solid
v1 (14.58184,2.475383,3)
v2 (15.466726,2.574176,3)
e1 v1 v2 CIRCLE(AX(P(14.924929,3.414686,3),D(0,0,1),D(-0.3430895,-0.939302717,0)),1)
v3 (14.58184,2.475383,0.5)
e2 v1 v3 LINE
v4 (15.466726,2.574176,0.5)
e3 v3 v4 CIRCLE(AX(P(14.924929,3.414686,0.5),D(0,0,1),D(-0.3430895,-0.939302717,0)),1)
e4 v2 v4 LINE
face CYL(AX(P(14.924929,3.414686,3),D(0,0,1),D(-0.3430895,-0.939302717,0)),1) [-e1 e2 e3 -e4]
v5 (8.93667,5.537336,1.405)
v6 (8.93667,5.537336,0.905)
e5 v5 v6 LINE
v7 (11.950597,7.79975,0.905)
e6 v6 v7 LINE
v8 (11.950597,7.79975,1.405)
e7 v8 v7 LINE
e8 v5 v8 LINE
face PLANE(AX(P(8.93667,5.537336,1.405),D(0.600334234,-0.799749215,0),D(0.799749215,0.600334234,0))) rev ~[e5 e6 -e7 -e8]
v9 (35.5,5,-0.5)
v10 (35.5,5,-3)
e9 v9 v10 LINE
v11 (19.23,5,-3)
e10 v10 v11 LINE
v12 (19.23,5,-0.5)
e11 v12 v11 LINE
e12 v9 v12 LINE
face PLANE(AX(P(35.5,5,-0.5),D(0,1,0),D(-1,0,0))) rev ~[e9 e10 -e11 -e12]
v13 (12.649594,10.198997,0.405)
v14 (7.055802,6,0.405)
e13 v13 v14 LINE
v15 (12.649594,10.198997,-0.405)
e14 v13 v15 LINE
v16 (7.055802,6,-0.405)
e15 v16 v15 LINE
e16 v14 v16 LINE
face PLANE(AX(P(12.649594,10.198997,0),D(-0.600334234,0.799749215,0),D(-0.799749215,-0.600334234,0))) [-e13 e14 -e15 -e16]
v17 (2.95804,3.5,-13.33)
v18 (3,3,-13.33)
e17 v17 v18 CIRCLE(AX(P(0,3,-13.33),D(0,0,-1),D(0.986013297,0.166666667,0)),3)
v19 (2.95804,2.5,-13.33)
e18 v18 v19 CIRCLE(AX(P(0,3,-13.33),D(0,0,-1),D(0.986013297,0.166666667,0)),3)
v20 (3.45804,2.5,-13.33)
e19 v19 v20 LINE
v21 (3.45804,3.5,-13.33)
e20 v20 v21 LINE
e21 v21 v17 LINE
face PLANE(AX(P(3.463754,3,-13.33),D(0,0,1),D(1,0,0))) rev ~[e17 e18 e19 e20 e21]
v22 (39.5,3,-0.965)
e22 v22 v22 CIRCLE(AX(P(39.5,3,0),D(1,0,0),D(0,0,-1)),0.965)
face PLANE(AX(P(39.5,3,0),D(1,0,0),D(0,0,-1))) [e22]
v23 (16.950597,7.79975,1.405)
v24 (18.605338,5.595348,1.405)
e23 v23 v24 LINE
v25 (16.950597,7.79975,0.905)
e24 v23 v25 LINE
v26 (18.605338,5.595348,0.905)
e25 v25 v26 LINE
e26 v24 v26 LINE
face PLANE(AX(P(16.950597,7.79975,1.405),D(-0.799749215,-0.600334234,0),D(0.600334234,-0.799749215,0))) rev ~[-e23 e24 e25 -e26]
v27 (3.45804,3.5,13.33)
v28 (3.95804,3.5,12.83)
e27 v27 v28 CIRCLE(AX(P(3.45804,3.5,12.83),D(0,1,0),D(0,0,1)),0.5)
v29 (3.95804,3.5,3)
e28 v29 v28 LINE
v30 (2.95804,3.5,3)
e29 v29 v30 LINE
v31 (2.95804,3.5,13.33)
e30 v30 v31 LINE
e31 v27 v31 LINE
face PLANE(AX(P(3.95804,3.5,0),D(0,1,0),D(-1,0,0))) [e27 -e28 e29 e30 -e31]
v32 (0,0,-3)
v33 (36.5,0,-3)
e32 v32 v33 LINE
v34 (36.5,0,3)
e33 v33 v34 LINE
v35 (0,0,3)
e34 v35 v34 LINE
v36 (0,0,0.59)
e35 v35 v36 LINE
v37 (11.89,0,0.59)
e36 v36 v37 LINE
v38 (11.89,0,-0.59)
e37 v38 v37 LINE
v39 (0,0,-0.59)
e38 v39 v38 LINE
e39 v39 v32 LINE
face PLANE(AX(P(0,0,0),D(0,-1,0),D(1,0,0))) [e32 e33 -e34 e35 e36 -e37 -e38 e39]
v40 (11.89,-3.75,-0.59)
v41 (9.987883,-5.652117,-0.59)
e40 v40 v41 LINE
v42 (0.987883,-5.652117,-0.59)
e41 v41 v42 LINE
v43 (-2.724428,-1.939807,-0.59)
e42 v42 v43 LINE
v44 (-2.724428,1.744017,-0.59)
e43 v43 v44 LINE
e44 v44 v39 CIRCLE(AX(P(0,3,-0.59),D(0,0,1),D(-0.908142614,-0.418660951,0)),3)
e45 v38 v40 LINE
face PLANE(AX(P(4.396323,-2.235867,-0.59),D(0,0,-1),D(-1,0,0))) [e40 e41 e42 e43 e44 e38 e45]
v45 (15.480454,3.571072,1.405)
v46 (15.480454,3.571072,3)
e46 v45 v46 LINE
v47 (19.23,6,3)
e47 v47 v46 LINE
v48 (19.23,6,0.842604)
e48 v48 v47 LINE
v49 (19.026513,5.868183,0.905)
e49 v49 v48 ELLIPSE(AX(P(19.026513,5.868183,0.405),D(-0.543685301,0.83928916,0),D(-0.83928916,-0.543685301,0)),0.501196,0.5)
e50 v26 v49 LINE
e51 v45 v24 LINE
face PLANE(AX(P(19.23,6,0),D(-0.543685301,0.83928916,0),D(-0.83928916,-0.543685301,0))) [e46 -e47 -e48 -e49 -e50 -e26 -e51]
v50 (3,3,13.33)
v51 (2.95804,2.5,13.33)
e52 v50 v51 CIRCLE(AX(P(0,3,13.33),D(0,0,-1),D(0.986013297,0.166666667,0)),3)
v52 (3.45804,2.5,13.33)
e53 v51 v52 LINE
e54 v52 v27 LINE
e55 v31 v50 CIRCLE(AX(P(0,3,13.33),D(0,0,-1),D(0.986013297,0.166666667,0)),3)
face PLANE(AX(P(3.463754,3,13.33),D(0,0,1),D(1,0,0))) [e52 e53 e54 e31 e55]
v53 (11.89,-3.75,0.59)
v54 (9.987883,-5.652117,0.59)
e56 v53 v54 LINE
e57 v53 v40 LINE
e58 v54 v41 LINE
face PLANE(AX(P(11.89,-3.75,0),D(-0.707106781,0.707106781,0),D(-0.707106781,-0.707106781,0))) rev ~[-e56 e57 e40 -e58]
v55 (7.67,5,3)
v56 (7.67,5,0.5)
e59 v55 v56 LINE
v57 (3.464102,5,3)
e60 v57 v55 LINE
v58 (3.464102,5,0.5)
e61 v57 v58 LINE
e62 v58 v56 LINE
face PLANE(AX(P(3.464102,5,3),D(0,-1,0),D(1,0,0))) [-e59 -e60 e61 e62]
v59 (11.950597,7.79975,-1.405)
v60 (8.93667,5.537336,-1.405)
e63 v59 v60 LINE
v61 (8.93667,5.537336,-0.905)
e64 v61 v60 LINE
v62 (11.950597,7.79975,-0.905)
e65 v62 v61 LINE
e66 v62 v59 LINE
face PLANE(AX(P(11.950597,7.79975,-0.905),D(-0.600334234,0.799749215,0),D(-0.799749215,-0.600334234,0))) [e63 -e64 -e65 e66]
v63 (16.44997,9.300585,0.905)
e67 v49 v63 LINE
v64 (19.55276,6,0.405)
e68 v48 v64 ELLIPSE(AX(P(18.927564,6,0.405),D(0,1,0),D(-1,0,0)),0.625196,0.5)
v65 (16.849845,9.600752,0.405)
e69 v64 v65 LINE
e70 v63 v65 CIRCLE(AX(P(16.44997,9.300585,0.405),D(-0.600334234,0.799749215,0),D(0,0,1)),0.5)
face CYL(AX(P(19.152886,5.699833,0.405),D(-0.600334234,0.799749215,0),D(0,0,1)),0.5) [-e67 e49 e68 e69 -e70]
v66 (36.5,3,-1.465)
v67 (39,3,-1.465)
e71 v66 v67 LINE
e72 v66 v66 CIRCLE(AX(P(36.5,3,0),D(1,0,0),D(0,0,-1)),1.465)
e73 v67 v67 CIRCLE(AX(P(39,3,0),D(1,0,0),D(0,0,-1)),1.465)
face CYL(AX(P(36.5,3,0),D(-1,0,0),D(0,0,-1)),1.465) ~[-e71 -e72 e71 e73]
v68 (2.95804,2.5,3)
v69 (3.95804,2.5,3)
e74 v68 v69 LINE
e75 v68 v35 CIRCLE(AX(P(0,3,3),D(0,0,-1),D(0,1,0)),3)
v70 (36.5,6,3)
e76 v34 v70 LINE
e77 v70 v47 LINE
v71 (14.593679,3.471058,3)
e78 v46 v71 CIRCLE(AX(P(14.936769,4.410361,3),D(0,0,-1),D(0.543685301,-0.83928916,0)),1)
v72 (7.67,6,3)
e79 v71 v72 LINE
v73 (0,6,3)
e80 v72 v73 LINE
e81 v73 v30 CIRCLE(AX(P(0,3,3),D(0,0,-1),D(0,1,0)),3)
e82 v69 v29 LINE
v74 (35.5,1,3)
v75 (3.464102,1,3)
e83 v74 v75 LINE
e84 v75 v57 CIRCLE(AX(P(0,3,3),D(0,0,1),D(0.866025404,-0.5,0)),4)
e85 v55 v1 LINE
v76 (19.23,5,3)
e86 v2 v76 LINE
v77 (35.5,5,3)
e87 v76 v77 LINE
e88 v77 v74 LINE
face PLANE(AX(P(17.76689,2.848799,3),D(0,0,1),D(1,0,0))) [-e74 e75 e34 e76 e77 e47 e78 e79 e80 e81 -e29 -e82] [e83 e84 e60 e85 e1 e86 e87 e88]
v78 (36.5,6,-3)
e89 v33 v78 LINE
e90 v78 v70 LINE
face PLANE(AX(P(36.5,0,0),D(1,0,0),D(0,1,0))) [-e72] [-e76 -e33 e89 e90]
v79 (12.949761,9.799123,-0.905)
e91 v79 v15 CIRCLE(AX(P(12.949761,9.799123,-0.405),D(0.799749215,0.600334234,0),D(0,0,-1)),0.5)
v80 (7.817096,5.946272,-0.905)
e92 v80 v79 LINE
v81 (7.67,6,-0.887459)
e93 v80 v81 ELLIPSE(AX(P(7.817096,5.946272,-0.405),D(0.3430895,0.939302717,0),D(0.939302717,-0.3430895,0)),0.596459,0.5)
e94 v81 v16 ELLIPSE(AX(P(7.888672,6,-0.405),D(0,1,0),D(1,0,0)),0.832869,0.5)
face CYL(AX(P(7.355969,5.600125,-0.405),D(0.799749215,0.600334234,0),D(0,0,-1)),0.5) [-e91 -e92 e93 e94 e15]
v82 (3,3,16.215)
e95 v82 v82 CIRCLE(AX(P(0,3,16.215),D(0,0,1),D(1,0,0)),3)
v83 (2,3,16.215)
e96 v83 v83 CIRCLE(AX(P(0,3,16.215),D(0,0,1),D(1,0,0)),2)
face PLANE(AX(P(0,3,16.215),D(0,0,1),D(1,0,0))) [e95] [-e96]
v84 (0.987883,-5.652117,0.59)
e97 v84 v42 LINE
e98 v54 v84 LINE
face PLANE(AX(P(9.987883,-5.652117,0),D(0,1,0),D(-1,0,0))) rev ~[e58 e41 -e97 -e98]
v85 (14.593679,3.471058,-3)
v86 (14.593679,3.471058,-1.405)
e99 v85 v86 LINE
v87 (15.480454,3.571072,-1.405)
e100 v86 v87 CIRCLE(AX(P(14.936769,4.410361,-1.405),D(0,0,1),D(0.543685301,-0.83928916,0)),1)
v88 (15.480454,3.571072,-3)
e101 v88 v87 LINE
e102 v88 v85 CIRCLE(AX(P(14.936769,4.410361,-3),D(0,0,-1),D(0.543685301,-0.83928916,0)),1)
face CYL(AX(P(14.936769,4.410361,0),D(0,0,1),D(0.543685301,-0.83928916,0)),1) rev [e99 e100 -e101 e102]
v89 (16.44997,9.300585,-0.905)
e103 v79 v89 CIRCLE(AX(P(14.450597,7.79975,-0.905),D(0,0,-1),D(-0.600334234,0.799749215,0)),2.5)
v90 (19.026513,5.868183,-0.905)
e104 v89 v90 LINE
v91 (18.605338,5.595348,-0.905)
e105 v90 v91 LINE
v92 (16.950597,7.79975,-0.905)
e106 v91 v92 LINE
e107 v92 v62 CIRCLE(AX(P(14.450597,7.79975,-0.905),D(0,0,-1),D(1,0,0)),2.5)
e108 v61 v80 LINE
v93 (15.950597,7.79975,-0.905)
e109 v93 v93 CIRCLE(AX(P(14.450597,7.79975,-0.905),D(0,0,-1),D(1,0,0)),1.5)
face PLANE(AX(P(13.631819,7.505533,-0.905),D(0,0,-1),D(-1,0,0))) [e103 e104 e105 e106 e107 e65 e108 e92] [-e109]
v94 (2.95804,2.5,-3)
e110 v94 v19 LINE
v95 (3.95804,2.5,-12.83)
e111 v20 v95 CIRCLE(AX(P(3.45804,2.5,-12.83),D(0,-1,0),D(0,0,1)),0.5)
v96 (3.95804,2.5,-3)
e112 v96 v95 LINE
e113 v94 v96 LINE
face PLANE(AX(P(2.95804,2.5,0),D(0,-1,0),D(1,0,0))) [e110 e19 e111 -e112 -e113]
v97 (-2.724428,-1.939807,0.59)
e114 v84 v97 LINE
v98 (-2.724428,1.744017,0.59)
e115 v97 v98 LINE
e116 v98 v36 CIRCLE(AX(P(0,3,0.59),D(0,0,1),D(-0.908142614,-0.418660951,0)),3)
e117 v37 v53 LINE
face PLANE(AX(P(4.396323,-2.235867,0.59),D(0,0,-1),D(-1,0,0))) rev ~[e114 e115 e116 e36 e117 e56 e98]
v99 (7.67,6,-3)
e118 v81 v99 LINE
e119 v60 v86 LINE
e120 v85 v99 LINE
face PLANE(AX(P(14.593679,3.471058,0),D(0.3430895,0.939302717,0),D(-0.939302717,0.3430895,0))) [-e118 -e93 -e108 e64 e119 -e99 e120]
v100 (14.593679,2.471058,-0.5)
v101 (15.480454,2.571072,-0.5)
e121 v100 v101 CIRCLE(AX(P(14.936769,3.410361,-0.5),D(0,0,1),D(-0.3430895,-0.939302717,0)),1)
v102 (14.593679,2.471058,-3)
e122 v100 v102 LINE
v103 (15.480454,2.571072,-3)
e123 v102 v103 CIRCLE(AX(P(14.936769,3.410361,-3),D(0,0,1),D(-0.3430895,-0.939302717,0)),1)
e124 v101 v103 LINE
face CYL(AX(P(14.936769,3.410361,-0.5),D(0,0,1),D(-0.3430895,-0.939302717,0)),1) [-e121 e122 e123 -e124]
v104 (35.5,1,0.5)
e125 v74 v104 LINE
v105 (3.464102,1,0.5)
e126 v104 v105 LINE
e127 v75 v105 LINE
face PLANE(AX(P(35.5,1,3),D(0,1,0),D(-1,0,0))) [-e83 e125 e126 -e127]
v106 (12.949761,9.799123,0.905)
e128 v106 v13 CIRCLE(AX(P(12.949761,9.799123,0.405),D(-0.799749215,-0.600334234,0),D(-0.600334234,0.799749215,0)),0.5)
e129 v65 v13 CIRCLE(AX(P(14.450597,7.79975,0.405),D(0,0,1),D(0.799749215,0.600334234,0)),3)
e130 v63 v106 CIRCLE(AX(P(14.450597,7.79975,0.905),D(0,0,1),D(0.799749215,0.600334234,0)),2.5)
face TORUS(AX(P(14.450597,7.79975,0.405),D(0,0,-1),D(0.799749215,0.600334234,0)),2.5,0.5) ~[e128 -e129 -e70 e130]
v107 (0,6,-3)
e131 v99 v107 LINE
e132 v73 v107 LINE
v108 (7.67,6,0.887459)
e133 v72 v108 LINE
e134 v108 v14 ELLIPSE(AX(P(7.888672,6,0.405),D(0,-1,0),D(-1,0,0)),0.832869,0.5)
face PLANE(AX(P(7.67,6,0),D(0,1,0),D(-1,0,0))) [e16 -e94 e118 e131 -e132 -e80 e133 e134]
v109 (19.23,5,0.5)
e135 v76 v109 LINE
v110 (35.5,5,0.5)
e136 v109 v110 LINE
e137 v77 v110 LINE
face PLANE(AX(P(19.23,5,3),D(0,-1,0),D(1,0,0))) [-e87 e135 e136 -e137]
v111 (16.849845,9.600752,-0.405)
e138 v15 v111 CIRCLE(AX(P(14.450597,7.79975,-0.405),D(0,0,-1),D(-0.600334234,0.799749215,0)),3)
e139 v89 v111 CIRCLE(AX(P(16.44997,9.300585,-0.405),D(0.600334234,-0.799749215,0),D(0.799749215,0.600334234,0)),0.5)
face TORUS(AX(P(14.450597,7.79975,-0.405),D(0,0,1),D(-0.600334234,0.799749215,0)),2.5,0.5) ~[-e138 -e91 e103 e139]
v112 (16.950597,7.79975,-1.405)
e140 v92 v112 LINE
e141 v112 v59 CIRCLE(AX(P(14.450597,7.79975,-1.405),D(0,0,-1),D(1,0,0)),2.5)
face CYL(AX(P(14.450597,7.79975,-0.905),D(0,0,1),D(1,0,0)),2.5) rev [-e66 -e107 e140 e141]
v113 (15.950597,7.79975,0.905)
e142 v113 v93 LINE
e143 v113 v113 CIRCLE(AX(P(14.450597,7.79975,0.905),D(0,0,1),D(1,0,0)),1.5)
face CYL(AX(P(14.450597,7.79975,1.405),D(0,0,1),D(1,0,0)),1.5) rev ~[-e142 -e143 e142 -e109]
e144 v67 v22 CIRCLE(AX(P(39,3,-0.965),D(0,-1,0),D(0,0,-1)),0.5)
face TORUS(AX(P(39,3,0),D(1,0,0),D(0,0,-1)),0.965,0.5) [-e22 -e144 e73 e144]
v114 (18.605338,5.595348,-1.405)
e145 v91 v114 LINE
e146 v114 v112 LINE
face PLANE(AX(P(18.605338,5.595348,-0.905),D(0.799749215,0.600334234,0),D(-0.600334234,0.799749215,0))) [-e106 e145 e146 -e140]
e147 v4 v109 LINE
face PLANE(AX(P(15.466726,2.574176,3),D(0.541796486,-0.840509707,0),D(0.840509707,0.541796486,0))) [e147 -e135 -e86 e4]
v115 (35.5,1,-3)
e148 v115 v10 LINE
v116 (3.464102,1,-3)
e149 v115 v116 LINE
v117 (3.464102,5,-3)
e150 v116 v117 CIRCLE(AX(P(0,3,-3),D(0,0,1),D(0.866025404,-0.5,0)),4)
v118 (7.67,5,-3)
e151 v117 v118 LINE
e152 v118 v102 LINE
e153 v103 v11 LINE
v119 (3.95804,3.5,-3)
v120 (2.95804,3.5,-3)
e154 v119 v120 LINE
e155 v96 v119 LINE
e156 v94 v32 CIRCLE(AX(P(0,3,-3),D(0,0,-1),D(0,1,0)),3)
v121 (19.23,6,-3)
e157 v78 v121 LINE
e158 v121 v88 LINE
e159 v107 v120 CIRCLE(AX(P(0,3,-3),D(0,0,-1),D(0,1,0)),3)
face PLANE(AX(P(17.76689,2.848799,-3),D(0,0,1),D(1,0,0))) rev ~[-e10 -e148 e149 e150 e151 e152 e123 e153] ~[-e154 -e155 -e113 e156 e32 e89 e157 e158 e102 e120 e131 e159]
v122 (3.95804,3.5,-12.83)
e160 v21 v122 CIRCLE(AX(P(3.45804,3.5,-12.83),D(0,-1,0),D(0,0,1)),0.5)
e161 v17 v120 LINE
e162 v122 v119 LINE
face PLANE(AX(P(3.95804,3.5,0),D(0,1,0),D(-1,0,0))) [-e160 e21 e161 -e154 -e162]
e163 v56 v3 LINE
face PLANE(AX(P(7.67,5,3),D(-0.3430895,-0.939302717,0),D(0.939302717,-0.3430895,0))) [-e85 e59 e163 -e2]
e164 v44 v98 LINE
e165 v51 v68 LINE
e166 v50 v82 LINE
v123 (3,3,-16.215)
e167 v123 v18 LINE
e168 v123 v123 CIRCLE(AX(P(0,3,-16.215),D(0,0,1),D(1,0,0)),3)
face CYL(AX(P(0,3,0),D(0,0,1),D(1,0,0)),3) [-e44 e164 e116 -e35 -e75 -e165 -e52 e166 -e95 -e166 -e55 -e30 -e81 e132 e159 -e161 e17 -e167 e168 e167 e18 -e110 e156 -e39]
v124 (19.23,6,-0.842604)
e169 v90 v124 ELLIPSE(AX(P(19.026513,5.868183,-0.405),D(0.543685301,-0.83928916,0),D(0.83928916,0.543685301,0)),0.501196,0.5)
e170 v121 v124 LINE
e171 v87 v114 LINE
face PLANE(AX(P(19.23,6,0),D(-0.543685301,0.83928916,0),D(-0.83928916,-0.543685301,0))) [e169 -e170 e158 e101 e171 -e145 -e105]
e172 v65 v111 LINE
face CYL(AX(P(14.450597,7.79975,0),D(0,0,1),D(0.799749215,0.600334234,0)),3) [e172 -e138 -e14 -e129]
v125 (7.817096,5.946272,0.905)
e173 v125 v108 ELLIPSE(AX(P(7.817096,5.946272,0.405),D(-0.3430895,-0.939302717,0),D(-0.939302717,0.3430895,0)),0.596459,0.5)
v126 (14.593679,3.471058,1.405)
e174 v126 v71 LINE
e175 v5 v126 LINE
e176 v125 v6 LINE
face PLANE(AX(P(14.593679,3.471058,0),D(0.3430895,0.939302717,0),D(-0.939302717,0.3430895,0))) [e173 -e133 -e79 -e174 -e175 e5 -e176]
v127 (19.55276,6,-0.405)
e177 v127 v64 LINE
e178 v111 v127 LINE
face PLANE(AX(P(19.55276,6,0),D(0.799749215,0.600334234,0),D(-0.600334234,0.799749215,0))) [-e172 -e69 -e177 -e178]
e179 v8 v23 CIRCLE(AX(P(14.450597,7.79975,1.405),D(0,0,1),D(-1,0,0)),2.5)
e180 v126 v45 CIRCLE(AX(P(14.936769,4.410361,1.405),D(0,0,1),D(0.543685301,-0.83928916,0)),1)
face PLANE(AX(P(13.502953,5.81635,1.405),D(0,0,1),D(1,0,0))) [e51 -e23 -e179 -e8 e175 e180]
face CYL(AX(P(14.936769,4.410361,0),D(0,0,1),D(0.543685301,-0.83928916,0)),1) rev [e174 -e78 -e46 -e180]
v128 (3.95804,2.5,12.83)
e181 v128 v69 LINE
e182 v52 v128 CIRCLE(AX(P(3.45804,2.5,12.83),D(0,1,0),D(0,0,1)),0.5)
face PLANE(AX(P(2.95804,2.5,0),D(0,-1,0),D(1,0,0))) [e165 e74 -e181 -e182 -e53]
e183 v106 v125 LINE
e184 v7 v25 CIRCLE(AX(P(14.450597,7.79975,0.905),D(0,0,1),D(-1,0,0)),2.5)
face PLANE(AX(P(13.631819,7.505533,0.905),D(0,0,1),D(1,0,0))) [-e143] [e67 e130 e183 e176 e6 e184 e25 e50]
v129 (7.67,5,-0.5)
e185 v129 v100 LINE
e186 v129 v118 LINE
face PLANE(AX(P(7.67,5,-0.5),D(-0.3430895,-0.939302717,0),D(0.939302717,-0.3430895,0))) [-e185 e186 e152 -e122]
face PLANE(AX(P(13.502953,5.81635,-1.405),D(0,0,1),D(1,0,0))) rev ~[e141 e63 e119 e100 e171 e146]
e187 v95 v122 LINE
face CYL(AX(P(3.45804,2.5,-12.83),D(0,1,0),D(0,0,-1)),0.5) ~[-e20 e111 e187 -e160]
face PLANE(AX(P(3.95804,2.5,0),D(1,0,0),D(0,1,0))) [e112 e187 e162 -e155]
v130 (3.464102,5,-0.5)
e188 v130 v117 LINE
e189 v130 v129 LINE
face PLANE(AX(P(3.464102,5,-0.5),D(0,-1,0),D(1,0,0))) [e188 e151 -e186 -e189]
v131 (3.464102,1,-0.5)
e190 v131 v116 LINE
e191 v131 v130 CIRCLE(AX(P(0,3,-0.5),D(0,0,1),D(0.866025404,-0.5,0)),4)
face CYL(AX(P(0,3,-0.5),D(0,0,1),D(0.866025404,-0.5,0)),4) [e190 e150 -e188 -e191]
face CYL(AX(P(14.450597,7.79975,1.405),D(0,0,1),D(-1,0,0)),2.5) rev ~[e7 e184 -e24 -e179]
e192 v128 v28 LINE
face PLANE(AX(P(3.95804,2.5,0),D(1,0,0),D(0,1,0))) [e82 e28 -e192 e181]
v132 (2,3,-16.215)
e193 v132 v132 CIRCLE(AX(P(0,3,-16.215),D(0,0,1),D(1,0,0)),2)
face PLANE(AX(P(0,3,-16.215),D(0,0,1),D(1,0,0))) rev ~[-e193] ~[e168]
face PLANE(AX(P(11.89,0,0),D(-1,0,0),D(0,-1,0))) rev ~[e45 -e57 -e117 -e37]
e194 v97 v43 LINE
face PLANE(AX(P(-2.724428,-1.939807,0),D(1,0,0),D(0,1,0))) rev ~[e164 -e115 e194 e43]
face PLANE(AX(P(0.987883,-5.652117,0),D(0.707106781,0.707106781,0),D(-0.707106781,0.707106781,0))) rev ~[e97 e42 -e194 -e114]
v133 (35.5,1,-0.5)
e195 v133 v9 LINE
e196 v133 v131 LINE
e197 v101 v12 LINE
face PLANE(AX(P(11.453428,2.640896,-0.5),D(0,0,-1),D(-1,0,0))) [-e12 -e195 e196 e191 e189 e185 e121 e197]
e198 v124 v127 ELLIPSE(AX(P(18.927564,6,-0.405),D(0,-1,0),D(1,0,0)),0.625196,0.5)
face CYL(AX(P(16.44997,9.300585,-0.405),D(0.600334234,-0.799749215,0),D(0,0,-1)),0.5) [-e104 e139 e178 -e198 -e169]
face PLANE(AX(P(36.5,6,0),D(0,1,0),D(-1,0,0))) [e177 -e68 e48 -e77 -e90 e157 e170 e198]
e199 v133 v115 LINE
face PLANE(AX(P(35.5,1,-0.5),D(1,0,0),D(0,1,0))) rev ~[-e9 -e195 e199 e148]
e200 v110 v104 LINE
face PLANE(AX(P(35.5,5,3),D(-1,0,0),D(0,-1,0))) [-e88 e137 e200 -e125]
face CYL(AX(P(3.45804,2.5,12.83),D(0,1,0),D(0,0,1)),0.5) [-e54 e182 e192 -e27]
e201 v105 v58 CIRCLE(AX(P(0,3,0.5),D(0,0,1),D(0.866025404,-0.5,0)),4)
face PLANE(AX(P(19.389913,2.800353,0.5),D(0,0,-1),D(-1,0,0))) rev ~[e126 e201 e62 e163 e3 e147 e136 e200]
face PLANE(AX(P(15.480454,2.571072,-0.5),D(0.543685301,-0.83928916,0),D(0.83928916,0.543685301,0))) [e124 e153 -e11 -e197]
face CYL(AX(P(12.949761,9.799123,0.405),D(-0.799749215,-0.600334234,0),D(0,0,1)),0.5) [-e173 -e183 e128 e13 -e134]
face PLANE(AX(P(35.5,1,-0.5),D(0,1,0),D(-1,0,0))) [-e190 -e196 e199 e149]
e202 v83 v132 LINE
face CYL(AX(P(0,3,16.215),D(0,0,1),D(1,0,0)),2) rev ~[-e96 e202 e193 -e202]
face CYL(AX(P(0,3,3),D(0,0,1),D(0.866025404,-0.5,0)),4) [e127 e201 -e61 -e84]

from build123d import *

# Parameters (mm, degrees)
BOSS_EXTRUDE3_DEPTH  = 3
SKETCH6_R            = 1.465
BOSS_EXTRUDE7_DEPTH  = 3
FILLET1_R            = 0.5
SKETCH7_R            = 2.9999999999999982
BOSS_EXTRUDE8_DEPTH  = 16.215
BOSS_EXTRUDE9_DEPTH  = 1.405
SKETCH9_R            = 2
CUT_EXTRUDE1_DEPTH   = 35
SKETCH10_R           = 1.5000000000000009
CUT_EXTRUDE2_DEPTH   = 35
CUT_EXTRUDE3_DEPTH   = 2.5
CUT_EXTRUDE4_START   = -2.5
CUT_EXTRUDE4_DEPTH   = 2.5
BOSS_EXTRUDE10_DEPTH = 0.59
BOSS_EXTRUDE11_DEPTH = 13.33
FILLET2_R            = 0.5
FILLET3_R            = 0.5
SKETCH12_R           = 1.5000000000000009
CUT_EXTRUDE5_DEPTH   = 0.5
FILLET4_R            = 0.5
CUT_EXTRUDE6_START   = -0.5
SKETCH17_R           = 1.5000000000000009
CUT_EXTRUDE6_DEPTH   = 0.5
FILLET5_R            = 0.5


with BuildPart() as part:
    # Sketch1 → Boss-Extrude3 (new, symmetric)
    with BuildSketch(Plane.XY):
        with BuildLine():
            ThreePointArc((2.9999999999999982, 2.9999999999999973), (2.1213203435596406, 0.8786796564403563), (-5.5e-16, 0))
            Line((0, 0), (36.5, 0))
            Line((36.5, 0), (36.5, 6))
            Line((36.5, 6), (19.23, 5.999999999999999))
            Line((19.23, 5.999999999999999), (15.480454164508112, 3.571071981637192))
            ThreePointArc((15.480454164508112, 3.571071981637192), (15.048841816271192, 3.4166611598413845), (14.593679363207029, 3.4710584241003293))
            Line((14.593679363207029, 3.4710584241003297), (7.67, 5.999999999999995))
            Line((7.67, 5.999999999999995), (0, 5.9999999999999964))
            ThreePointArc((1.8e-16, 5.9999999999999964), (2.1213203435596415, 5.121320343559639), (2.9999999999999982, 2.9999999999999982))
        make_face()
    extrude(amount=BOSS_EXTRUDE3_DEPTH, both=True)

    # Sketch6 → Boss-Extrude7 (add)
    with BuildSketch(Plane(origin=(36.5, 0, 0), x_dir=(0, 0, -1), z_dir=(1, 0, 0))):
        with Locations((0, 2.999999999999999)):
            Circle(SKETCH6_R)
    extrude(amount=BOSS_EXTRUDE7_DEPTH)

    # Fillet1
    fillet1_edges = [part.edges().sort_by_distance(p)[0] for p in [
        (39.5, 2.9999999999999987, 1.465),
    ]]
    fillet(fillet1_edges, radius=FILLET1_R)

    # Sketch7 → Boss-Extrude8 (add, symmetric)
    with BuildSketch(Plane.XY):
        with Locations((0, 2.9999999999999982)):
            Circle(SKETCH7_R)
    extrude(amount=BOSS_EXTRUDE8_DEPTH, both=True)

    # Sketch8 → Boss-Extrude9 (add, symmetric)
    with BuildSketch(Plane.XY):
        with BuildLine():
            Line((7.055802237198053, 5.999999999999995), (7.67, 5.999999999999995))
            Line((7.67, 5.999999999999995), (7.67, 2.7155970544612273))
            Line((7.67, 2.7155970544612273), (19.552760462470925, 2.7155970544612273))
            Line((19.552760462470925, 2.7155970544612273), (19.552760462470925, 5.999999999999999))
            Line((19.552760462470925, 5.999999999999999), (16.849844518078097, 9.600752353739953))
            ThreePointArc((16.849844518078097, 9.600752353739953), (14.873619928851438, 10.76977515573235), (12.649594170011149, 10.19899729819309))
            Line((12.649594170011149, 10.19899729819309), (7.055802237198053, 5.999999999999995))
        make_face()
    extrude(amount=BOSS_EXTRUDE9_DEPTH, both=True)

    # Sketch9 → Cut-Extrude1 (cut)
    with BuildSketch(Plane.XY.offset(16.215)):
        with Locations((0, 2.9999999999999982)):
            Circle(SKETCH9_R)
    extrude(amount=-CUT_EXTRUDE1_DEPTH, mode=Mode.SUBTRACT)

    # Sketch10 → Cut-Extrude2 (cut)
    with BuildSketch(Plane.XY.offset(1.405)):
        with Locations((14.450596871818059, 7.799749651933077)):
            Circle(SKETCH10_R)
    extrude(amount=-CUT_EXTRUDE2_DEPTH, mode=Mode.SUBTRACT)

    # Sketch11 → Cut-Extrude3 (cut)
    with BuildSketch(Plane.XY.offset(3)):
        with BuildLine():
            Line((35.5, 4.999999999999999), (19.23, 4.999999999999999))
            Line((19.23, 4.999999999999999), (15.46672588726192, 2.5741759140057563))
            ThreePointArc((15.46672588726192, 2.5741759140057563), (15.035884938334876, 2.420860249555603), (14.581839900445662, 2.475382903620951))
            Line((14.581839900445662, 2.475382903620951), (7.67, 4.9999999999999964))
            Line((7.67, 4.9999999999999964), (3.4641016151377535, 4.9999999999999964))
            ThreePointArc((3.464101615137754, 4.9999999999999964), (3.999999999999998, 2.9999999999999982), (3.464101615137754, 0.9999999999999998))
            Line((3.4641016151377535, 0.9999999999999999), (35.5, 1))
            Line((35.5, 1), (35.5, 4.999999999999999))
        make_face()
    extrude(amount=-CUT_EXTRUDE3_DEPTH, mode=Mode.SUBTRACT)

    # Sketch14 → Cut-Extrude4 (cut)
    with BuildSketch(Plane(origin=(0, 0, -3), x_dir=(-1, 0, 0), z_dir=(0, 0, -1)).offset(CUT_EXTRUDE4_START)):
        with BuildLine():
            Line((-19.23, 4.999999999999999), (-35.5, 4.999999999999999))
            Line((-35.5, 4.999999999999999), (-35.5, 1))
            Line((-35.5, 1), (-3.46410161513775, 1))
            ThreePointArc((-3.4641016151377535, 1), (-3.999999999999998, 2.9999999999999982), (-3.4641016151377535, 4.9999999999999964))
            Line((-3.4641016151377535, 4.9999999999999964), (-7.67, 4.9999999999999964))
            Line((-7.67, 4.9999999999999964), (-14.593679363207022, 2.471058424100332))
            ThreePointArc((-14.593679363207022, 2.471058424100332), (-15.048841816271192, 2.4166611598413854), (-15.480454164508119, 2.5710719816371976))
            Line((-15.480454164508119, 2.571071981637197), (-19.23, 4.999999999999999))
        make_face()
    extrude(amount=CUT_EXTRUDE4_DEPTH, mode=Mode.SUBTRACT)

    # Sketch15 → Boss-Extrude10 (add, symmetric)
    with BuildSketch(Plane.XY):
        with BuildLine():
            Line((11.889999999999997, -3.01e-15), (11.889999999999997, -3.750000000000003))
            Line((11.889999999999997, -3.750000000000003), (9.987882758608185, -5.652117241391816))
            Line((9.987882758608185, -5.652117241391816), (0.9878827586081856, -5.652117241391818))
            Line((0.9878827586081856, -5.652117241391818), (-2.7244278426211888, -1.9398066401624436))
            Line((-2.7244278426211888, -1.9398066401624436), (-2.7244278426211888, 1.7440171456781548))
            ThreePointArc((-2.7244278426211888, 1.7440171456781548), (-1.6174132800608587, 0.47334721786258305), (0, 0))
            Line((0, 0), (11.889999999999997, -3.01e-15))
        make_face()
    extrude(amount=BOSS_EXTRUDE10_DEPTH, both=True)

    # Sketch16 → Boss-Extrude11 (add, symmetric)
    with BuildSketch(Plane.XY):
        with BuildLine():
            Line((3.9580398915498063, 2.4999999999999982), (3.9580398915498063, 3.4999999999999982))
            Line((3.9580398915498063, 3.4999999999999982), (2.9580398915498067, 3.4999999999999982))
            ThreePointArc((2.9580398915498067, 3.4999999999999982), (2.9999999999999925, 2.9999999999999982), (2.9580398915498067, 2.4999999999999982))
            Line((2.9580398915498067, 2.4999999999999982), (3.9580398915498063, 2.4999999999999982))
        make_face()
    extrude(amount=BOSS_EXTRUDE11_DEPTH, both=True)

    # Fillet2
    fillet2_edges = [part.edges().sort_by_distance(p)[0] for p in [
        (3.9580398915498063, 2.9999999999999982, 13.33),
    ]]
    fillet(fillet2_edges, radius=FILLET2_R)

    # Fillet3
    fillet3_edges = [part.edges().sort_by_distance(p)[0] for p in [
        (3.9580398915498063, 2.9999999999999982, -13.33),
    ]]
    fillet(fillet3_edges, radius=FILLET3_R)

    # Sketch12 → Cut-Extrude5 (cut)
    with BuildSketch(Plane.XY.offset(1.405)):
        with BuildLine():
            Line((8.93667028661393, 5.537336294370084), (11.950596871818057, 7.799749651933077))
            ThreePointArc((11.950596871818057, 7.799749651933077), (14.45059687181806, 5.299749651933041), (16.950596871818053, 7.7997496519330864))
            Line((16.95059687181806, 7.799749651933077), (18.60533758587746, 5.595348315169656))
            Line((18.60533758587746, 5.595348315169656), (19.230000000000004, 5.999999999999997))
            Line((19.230000000000004, 5.999999999999997), (19.552760462470925, 5.999999999999999))
            Line((19.552760462470925, 5.999999999999999), (16.849844518078097, 9.600752353739953))
            ThreePointArc((16.849844518078097, 9.600752353739953), (14.873619928851436, 10.769775155732342), (12.649594170011149, 10.19899729819309))
            Line((12.649594170011149, 10.19899729819309), (7.055802237198053, 5.999999999999995))
            Line((7.055802237198053, 5.999999999999995), (7.67, 5.999999999999995))
            Line((7.67, 5.999999999999995), (8.93667028661393, 5.537336294370084))
        make_face()
        with Locations((14.450596871818059, 7.799749651933077)):
            Circle(SKETCH12_R, mode=Mode.SUBTRACT)
    extrude(amount=-CUT_EXTRUDE5_DEPTH, mode=Mode.SUBTRACT)

    # Fillet4
    fillet4_edges = [part.edges().sort_by_distance(p)[0] for p in [
        (18.20130249027451, 7.800376176869976, 0.905),
        (9.8526982036046, 8.099498649096542, 0.905),
        (14.873619928851436, 10.769775155732344, 0.905),
    ]]
    fillet(fillet4_edges, radius=FILLET4_R)

    # Sketch17 → Cut-Extrude6 (cut)
    with BuildSketch(Plane(origin=(0, 0, -1.405), x_dir=(-1, 0, 0), z_dir=(0, 0, -1)).offset(CUT_EXTRUDE6_START)):
        with BuildLine():
            Line((-18.60533758587746, 5.595348315169656), (-16.95059687181806, 7.799749651933077))
            ThreePointArc((-16.95059687181806, 7.799749651933077), (-14.450596871818068, 5.299749651933066), (-11.950596871818057, 7.79974965193306))
            Line((-11.950596871818059, 7.799749651933077), (-8.93667028661393, 5.537336294370084))
            Line((-8.93667028661393, 5.537336294370084), (-7.67, 5.999999999999995))
            Line((-7.67, 5.999999999999995), (-7.055802237198053, 5.999999999999995))
            Line((-7.055802237198053, 5.999999999999995), (-12.649594170011149, 10.19899729819309))
            ThreePointArc((-12.649594170011149, 10.19899729819309), (-14.873619928851438, 10.769775155732347), (-16.849844518078097, 9.600752353739953))
            Line((-16.849844518078097, 9.600752353739953), (-19.552760462470925, 5.999999999999999))
            Line((-19.552760462470925, 5.999999999999999), (-19.23, 5.999999999999999))
            Line((-19.23, 5.999999999999999), (-18.60533758587746, 5.595348315169656))
        make_face()
        with Locations((-14.450596871818059, 7.799749651933077)):
            Circle(SKETCH17_R, mode=Mode.SUBTRACT)
    extrude(amount=CUT_EXTRUDE6_DEPTH, mode=Mode.SUBTRACT)

    # Fillet5
    fillet5_edges = [part.edges().sort_by_distance(p)[0] for p in [
        (9.8526982036046, 8.099498649096542, -0.905),
        (18.20130249027451, 7.800376176869976, -0.905),
        (14.873619928851438, 10.769775155732347, -0.905),
    ]]
    fillet(fillet5_edges, radius=FILLET5_R)


solid = part.part
